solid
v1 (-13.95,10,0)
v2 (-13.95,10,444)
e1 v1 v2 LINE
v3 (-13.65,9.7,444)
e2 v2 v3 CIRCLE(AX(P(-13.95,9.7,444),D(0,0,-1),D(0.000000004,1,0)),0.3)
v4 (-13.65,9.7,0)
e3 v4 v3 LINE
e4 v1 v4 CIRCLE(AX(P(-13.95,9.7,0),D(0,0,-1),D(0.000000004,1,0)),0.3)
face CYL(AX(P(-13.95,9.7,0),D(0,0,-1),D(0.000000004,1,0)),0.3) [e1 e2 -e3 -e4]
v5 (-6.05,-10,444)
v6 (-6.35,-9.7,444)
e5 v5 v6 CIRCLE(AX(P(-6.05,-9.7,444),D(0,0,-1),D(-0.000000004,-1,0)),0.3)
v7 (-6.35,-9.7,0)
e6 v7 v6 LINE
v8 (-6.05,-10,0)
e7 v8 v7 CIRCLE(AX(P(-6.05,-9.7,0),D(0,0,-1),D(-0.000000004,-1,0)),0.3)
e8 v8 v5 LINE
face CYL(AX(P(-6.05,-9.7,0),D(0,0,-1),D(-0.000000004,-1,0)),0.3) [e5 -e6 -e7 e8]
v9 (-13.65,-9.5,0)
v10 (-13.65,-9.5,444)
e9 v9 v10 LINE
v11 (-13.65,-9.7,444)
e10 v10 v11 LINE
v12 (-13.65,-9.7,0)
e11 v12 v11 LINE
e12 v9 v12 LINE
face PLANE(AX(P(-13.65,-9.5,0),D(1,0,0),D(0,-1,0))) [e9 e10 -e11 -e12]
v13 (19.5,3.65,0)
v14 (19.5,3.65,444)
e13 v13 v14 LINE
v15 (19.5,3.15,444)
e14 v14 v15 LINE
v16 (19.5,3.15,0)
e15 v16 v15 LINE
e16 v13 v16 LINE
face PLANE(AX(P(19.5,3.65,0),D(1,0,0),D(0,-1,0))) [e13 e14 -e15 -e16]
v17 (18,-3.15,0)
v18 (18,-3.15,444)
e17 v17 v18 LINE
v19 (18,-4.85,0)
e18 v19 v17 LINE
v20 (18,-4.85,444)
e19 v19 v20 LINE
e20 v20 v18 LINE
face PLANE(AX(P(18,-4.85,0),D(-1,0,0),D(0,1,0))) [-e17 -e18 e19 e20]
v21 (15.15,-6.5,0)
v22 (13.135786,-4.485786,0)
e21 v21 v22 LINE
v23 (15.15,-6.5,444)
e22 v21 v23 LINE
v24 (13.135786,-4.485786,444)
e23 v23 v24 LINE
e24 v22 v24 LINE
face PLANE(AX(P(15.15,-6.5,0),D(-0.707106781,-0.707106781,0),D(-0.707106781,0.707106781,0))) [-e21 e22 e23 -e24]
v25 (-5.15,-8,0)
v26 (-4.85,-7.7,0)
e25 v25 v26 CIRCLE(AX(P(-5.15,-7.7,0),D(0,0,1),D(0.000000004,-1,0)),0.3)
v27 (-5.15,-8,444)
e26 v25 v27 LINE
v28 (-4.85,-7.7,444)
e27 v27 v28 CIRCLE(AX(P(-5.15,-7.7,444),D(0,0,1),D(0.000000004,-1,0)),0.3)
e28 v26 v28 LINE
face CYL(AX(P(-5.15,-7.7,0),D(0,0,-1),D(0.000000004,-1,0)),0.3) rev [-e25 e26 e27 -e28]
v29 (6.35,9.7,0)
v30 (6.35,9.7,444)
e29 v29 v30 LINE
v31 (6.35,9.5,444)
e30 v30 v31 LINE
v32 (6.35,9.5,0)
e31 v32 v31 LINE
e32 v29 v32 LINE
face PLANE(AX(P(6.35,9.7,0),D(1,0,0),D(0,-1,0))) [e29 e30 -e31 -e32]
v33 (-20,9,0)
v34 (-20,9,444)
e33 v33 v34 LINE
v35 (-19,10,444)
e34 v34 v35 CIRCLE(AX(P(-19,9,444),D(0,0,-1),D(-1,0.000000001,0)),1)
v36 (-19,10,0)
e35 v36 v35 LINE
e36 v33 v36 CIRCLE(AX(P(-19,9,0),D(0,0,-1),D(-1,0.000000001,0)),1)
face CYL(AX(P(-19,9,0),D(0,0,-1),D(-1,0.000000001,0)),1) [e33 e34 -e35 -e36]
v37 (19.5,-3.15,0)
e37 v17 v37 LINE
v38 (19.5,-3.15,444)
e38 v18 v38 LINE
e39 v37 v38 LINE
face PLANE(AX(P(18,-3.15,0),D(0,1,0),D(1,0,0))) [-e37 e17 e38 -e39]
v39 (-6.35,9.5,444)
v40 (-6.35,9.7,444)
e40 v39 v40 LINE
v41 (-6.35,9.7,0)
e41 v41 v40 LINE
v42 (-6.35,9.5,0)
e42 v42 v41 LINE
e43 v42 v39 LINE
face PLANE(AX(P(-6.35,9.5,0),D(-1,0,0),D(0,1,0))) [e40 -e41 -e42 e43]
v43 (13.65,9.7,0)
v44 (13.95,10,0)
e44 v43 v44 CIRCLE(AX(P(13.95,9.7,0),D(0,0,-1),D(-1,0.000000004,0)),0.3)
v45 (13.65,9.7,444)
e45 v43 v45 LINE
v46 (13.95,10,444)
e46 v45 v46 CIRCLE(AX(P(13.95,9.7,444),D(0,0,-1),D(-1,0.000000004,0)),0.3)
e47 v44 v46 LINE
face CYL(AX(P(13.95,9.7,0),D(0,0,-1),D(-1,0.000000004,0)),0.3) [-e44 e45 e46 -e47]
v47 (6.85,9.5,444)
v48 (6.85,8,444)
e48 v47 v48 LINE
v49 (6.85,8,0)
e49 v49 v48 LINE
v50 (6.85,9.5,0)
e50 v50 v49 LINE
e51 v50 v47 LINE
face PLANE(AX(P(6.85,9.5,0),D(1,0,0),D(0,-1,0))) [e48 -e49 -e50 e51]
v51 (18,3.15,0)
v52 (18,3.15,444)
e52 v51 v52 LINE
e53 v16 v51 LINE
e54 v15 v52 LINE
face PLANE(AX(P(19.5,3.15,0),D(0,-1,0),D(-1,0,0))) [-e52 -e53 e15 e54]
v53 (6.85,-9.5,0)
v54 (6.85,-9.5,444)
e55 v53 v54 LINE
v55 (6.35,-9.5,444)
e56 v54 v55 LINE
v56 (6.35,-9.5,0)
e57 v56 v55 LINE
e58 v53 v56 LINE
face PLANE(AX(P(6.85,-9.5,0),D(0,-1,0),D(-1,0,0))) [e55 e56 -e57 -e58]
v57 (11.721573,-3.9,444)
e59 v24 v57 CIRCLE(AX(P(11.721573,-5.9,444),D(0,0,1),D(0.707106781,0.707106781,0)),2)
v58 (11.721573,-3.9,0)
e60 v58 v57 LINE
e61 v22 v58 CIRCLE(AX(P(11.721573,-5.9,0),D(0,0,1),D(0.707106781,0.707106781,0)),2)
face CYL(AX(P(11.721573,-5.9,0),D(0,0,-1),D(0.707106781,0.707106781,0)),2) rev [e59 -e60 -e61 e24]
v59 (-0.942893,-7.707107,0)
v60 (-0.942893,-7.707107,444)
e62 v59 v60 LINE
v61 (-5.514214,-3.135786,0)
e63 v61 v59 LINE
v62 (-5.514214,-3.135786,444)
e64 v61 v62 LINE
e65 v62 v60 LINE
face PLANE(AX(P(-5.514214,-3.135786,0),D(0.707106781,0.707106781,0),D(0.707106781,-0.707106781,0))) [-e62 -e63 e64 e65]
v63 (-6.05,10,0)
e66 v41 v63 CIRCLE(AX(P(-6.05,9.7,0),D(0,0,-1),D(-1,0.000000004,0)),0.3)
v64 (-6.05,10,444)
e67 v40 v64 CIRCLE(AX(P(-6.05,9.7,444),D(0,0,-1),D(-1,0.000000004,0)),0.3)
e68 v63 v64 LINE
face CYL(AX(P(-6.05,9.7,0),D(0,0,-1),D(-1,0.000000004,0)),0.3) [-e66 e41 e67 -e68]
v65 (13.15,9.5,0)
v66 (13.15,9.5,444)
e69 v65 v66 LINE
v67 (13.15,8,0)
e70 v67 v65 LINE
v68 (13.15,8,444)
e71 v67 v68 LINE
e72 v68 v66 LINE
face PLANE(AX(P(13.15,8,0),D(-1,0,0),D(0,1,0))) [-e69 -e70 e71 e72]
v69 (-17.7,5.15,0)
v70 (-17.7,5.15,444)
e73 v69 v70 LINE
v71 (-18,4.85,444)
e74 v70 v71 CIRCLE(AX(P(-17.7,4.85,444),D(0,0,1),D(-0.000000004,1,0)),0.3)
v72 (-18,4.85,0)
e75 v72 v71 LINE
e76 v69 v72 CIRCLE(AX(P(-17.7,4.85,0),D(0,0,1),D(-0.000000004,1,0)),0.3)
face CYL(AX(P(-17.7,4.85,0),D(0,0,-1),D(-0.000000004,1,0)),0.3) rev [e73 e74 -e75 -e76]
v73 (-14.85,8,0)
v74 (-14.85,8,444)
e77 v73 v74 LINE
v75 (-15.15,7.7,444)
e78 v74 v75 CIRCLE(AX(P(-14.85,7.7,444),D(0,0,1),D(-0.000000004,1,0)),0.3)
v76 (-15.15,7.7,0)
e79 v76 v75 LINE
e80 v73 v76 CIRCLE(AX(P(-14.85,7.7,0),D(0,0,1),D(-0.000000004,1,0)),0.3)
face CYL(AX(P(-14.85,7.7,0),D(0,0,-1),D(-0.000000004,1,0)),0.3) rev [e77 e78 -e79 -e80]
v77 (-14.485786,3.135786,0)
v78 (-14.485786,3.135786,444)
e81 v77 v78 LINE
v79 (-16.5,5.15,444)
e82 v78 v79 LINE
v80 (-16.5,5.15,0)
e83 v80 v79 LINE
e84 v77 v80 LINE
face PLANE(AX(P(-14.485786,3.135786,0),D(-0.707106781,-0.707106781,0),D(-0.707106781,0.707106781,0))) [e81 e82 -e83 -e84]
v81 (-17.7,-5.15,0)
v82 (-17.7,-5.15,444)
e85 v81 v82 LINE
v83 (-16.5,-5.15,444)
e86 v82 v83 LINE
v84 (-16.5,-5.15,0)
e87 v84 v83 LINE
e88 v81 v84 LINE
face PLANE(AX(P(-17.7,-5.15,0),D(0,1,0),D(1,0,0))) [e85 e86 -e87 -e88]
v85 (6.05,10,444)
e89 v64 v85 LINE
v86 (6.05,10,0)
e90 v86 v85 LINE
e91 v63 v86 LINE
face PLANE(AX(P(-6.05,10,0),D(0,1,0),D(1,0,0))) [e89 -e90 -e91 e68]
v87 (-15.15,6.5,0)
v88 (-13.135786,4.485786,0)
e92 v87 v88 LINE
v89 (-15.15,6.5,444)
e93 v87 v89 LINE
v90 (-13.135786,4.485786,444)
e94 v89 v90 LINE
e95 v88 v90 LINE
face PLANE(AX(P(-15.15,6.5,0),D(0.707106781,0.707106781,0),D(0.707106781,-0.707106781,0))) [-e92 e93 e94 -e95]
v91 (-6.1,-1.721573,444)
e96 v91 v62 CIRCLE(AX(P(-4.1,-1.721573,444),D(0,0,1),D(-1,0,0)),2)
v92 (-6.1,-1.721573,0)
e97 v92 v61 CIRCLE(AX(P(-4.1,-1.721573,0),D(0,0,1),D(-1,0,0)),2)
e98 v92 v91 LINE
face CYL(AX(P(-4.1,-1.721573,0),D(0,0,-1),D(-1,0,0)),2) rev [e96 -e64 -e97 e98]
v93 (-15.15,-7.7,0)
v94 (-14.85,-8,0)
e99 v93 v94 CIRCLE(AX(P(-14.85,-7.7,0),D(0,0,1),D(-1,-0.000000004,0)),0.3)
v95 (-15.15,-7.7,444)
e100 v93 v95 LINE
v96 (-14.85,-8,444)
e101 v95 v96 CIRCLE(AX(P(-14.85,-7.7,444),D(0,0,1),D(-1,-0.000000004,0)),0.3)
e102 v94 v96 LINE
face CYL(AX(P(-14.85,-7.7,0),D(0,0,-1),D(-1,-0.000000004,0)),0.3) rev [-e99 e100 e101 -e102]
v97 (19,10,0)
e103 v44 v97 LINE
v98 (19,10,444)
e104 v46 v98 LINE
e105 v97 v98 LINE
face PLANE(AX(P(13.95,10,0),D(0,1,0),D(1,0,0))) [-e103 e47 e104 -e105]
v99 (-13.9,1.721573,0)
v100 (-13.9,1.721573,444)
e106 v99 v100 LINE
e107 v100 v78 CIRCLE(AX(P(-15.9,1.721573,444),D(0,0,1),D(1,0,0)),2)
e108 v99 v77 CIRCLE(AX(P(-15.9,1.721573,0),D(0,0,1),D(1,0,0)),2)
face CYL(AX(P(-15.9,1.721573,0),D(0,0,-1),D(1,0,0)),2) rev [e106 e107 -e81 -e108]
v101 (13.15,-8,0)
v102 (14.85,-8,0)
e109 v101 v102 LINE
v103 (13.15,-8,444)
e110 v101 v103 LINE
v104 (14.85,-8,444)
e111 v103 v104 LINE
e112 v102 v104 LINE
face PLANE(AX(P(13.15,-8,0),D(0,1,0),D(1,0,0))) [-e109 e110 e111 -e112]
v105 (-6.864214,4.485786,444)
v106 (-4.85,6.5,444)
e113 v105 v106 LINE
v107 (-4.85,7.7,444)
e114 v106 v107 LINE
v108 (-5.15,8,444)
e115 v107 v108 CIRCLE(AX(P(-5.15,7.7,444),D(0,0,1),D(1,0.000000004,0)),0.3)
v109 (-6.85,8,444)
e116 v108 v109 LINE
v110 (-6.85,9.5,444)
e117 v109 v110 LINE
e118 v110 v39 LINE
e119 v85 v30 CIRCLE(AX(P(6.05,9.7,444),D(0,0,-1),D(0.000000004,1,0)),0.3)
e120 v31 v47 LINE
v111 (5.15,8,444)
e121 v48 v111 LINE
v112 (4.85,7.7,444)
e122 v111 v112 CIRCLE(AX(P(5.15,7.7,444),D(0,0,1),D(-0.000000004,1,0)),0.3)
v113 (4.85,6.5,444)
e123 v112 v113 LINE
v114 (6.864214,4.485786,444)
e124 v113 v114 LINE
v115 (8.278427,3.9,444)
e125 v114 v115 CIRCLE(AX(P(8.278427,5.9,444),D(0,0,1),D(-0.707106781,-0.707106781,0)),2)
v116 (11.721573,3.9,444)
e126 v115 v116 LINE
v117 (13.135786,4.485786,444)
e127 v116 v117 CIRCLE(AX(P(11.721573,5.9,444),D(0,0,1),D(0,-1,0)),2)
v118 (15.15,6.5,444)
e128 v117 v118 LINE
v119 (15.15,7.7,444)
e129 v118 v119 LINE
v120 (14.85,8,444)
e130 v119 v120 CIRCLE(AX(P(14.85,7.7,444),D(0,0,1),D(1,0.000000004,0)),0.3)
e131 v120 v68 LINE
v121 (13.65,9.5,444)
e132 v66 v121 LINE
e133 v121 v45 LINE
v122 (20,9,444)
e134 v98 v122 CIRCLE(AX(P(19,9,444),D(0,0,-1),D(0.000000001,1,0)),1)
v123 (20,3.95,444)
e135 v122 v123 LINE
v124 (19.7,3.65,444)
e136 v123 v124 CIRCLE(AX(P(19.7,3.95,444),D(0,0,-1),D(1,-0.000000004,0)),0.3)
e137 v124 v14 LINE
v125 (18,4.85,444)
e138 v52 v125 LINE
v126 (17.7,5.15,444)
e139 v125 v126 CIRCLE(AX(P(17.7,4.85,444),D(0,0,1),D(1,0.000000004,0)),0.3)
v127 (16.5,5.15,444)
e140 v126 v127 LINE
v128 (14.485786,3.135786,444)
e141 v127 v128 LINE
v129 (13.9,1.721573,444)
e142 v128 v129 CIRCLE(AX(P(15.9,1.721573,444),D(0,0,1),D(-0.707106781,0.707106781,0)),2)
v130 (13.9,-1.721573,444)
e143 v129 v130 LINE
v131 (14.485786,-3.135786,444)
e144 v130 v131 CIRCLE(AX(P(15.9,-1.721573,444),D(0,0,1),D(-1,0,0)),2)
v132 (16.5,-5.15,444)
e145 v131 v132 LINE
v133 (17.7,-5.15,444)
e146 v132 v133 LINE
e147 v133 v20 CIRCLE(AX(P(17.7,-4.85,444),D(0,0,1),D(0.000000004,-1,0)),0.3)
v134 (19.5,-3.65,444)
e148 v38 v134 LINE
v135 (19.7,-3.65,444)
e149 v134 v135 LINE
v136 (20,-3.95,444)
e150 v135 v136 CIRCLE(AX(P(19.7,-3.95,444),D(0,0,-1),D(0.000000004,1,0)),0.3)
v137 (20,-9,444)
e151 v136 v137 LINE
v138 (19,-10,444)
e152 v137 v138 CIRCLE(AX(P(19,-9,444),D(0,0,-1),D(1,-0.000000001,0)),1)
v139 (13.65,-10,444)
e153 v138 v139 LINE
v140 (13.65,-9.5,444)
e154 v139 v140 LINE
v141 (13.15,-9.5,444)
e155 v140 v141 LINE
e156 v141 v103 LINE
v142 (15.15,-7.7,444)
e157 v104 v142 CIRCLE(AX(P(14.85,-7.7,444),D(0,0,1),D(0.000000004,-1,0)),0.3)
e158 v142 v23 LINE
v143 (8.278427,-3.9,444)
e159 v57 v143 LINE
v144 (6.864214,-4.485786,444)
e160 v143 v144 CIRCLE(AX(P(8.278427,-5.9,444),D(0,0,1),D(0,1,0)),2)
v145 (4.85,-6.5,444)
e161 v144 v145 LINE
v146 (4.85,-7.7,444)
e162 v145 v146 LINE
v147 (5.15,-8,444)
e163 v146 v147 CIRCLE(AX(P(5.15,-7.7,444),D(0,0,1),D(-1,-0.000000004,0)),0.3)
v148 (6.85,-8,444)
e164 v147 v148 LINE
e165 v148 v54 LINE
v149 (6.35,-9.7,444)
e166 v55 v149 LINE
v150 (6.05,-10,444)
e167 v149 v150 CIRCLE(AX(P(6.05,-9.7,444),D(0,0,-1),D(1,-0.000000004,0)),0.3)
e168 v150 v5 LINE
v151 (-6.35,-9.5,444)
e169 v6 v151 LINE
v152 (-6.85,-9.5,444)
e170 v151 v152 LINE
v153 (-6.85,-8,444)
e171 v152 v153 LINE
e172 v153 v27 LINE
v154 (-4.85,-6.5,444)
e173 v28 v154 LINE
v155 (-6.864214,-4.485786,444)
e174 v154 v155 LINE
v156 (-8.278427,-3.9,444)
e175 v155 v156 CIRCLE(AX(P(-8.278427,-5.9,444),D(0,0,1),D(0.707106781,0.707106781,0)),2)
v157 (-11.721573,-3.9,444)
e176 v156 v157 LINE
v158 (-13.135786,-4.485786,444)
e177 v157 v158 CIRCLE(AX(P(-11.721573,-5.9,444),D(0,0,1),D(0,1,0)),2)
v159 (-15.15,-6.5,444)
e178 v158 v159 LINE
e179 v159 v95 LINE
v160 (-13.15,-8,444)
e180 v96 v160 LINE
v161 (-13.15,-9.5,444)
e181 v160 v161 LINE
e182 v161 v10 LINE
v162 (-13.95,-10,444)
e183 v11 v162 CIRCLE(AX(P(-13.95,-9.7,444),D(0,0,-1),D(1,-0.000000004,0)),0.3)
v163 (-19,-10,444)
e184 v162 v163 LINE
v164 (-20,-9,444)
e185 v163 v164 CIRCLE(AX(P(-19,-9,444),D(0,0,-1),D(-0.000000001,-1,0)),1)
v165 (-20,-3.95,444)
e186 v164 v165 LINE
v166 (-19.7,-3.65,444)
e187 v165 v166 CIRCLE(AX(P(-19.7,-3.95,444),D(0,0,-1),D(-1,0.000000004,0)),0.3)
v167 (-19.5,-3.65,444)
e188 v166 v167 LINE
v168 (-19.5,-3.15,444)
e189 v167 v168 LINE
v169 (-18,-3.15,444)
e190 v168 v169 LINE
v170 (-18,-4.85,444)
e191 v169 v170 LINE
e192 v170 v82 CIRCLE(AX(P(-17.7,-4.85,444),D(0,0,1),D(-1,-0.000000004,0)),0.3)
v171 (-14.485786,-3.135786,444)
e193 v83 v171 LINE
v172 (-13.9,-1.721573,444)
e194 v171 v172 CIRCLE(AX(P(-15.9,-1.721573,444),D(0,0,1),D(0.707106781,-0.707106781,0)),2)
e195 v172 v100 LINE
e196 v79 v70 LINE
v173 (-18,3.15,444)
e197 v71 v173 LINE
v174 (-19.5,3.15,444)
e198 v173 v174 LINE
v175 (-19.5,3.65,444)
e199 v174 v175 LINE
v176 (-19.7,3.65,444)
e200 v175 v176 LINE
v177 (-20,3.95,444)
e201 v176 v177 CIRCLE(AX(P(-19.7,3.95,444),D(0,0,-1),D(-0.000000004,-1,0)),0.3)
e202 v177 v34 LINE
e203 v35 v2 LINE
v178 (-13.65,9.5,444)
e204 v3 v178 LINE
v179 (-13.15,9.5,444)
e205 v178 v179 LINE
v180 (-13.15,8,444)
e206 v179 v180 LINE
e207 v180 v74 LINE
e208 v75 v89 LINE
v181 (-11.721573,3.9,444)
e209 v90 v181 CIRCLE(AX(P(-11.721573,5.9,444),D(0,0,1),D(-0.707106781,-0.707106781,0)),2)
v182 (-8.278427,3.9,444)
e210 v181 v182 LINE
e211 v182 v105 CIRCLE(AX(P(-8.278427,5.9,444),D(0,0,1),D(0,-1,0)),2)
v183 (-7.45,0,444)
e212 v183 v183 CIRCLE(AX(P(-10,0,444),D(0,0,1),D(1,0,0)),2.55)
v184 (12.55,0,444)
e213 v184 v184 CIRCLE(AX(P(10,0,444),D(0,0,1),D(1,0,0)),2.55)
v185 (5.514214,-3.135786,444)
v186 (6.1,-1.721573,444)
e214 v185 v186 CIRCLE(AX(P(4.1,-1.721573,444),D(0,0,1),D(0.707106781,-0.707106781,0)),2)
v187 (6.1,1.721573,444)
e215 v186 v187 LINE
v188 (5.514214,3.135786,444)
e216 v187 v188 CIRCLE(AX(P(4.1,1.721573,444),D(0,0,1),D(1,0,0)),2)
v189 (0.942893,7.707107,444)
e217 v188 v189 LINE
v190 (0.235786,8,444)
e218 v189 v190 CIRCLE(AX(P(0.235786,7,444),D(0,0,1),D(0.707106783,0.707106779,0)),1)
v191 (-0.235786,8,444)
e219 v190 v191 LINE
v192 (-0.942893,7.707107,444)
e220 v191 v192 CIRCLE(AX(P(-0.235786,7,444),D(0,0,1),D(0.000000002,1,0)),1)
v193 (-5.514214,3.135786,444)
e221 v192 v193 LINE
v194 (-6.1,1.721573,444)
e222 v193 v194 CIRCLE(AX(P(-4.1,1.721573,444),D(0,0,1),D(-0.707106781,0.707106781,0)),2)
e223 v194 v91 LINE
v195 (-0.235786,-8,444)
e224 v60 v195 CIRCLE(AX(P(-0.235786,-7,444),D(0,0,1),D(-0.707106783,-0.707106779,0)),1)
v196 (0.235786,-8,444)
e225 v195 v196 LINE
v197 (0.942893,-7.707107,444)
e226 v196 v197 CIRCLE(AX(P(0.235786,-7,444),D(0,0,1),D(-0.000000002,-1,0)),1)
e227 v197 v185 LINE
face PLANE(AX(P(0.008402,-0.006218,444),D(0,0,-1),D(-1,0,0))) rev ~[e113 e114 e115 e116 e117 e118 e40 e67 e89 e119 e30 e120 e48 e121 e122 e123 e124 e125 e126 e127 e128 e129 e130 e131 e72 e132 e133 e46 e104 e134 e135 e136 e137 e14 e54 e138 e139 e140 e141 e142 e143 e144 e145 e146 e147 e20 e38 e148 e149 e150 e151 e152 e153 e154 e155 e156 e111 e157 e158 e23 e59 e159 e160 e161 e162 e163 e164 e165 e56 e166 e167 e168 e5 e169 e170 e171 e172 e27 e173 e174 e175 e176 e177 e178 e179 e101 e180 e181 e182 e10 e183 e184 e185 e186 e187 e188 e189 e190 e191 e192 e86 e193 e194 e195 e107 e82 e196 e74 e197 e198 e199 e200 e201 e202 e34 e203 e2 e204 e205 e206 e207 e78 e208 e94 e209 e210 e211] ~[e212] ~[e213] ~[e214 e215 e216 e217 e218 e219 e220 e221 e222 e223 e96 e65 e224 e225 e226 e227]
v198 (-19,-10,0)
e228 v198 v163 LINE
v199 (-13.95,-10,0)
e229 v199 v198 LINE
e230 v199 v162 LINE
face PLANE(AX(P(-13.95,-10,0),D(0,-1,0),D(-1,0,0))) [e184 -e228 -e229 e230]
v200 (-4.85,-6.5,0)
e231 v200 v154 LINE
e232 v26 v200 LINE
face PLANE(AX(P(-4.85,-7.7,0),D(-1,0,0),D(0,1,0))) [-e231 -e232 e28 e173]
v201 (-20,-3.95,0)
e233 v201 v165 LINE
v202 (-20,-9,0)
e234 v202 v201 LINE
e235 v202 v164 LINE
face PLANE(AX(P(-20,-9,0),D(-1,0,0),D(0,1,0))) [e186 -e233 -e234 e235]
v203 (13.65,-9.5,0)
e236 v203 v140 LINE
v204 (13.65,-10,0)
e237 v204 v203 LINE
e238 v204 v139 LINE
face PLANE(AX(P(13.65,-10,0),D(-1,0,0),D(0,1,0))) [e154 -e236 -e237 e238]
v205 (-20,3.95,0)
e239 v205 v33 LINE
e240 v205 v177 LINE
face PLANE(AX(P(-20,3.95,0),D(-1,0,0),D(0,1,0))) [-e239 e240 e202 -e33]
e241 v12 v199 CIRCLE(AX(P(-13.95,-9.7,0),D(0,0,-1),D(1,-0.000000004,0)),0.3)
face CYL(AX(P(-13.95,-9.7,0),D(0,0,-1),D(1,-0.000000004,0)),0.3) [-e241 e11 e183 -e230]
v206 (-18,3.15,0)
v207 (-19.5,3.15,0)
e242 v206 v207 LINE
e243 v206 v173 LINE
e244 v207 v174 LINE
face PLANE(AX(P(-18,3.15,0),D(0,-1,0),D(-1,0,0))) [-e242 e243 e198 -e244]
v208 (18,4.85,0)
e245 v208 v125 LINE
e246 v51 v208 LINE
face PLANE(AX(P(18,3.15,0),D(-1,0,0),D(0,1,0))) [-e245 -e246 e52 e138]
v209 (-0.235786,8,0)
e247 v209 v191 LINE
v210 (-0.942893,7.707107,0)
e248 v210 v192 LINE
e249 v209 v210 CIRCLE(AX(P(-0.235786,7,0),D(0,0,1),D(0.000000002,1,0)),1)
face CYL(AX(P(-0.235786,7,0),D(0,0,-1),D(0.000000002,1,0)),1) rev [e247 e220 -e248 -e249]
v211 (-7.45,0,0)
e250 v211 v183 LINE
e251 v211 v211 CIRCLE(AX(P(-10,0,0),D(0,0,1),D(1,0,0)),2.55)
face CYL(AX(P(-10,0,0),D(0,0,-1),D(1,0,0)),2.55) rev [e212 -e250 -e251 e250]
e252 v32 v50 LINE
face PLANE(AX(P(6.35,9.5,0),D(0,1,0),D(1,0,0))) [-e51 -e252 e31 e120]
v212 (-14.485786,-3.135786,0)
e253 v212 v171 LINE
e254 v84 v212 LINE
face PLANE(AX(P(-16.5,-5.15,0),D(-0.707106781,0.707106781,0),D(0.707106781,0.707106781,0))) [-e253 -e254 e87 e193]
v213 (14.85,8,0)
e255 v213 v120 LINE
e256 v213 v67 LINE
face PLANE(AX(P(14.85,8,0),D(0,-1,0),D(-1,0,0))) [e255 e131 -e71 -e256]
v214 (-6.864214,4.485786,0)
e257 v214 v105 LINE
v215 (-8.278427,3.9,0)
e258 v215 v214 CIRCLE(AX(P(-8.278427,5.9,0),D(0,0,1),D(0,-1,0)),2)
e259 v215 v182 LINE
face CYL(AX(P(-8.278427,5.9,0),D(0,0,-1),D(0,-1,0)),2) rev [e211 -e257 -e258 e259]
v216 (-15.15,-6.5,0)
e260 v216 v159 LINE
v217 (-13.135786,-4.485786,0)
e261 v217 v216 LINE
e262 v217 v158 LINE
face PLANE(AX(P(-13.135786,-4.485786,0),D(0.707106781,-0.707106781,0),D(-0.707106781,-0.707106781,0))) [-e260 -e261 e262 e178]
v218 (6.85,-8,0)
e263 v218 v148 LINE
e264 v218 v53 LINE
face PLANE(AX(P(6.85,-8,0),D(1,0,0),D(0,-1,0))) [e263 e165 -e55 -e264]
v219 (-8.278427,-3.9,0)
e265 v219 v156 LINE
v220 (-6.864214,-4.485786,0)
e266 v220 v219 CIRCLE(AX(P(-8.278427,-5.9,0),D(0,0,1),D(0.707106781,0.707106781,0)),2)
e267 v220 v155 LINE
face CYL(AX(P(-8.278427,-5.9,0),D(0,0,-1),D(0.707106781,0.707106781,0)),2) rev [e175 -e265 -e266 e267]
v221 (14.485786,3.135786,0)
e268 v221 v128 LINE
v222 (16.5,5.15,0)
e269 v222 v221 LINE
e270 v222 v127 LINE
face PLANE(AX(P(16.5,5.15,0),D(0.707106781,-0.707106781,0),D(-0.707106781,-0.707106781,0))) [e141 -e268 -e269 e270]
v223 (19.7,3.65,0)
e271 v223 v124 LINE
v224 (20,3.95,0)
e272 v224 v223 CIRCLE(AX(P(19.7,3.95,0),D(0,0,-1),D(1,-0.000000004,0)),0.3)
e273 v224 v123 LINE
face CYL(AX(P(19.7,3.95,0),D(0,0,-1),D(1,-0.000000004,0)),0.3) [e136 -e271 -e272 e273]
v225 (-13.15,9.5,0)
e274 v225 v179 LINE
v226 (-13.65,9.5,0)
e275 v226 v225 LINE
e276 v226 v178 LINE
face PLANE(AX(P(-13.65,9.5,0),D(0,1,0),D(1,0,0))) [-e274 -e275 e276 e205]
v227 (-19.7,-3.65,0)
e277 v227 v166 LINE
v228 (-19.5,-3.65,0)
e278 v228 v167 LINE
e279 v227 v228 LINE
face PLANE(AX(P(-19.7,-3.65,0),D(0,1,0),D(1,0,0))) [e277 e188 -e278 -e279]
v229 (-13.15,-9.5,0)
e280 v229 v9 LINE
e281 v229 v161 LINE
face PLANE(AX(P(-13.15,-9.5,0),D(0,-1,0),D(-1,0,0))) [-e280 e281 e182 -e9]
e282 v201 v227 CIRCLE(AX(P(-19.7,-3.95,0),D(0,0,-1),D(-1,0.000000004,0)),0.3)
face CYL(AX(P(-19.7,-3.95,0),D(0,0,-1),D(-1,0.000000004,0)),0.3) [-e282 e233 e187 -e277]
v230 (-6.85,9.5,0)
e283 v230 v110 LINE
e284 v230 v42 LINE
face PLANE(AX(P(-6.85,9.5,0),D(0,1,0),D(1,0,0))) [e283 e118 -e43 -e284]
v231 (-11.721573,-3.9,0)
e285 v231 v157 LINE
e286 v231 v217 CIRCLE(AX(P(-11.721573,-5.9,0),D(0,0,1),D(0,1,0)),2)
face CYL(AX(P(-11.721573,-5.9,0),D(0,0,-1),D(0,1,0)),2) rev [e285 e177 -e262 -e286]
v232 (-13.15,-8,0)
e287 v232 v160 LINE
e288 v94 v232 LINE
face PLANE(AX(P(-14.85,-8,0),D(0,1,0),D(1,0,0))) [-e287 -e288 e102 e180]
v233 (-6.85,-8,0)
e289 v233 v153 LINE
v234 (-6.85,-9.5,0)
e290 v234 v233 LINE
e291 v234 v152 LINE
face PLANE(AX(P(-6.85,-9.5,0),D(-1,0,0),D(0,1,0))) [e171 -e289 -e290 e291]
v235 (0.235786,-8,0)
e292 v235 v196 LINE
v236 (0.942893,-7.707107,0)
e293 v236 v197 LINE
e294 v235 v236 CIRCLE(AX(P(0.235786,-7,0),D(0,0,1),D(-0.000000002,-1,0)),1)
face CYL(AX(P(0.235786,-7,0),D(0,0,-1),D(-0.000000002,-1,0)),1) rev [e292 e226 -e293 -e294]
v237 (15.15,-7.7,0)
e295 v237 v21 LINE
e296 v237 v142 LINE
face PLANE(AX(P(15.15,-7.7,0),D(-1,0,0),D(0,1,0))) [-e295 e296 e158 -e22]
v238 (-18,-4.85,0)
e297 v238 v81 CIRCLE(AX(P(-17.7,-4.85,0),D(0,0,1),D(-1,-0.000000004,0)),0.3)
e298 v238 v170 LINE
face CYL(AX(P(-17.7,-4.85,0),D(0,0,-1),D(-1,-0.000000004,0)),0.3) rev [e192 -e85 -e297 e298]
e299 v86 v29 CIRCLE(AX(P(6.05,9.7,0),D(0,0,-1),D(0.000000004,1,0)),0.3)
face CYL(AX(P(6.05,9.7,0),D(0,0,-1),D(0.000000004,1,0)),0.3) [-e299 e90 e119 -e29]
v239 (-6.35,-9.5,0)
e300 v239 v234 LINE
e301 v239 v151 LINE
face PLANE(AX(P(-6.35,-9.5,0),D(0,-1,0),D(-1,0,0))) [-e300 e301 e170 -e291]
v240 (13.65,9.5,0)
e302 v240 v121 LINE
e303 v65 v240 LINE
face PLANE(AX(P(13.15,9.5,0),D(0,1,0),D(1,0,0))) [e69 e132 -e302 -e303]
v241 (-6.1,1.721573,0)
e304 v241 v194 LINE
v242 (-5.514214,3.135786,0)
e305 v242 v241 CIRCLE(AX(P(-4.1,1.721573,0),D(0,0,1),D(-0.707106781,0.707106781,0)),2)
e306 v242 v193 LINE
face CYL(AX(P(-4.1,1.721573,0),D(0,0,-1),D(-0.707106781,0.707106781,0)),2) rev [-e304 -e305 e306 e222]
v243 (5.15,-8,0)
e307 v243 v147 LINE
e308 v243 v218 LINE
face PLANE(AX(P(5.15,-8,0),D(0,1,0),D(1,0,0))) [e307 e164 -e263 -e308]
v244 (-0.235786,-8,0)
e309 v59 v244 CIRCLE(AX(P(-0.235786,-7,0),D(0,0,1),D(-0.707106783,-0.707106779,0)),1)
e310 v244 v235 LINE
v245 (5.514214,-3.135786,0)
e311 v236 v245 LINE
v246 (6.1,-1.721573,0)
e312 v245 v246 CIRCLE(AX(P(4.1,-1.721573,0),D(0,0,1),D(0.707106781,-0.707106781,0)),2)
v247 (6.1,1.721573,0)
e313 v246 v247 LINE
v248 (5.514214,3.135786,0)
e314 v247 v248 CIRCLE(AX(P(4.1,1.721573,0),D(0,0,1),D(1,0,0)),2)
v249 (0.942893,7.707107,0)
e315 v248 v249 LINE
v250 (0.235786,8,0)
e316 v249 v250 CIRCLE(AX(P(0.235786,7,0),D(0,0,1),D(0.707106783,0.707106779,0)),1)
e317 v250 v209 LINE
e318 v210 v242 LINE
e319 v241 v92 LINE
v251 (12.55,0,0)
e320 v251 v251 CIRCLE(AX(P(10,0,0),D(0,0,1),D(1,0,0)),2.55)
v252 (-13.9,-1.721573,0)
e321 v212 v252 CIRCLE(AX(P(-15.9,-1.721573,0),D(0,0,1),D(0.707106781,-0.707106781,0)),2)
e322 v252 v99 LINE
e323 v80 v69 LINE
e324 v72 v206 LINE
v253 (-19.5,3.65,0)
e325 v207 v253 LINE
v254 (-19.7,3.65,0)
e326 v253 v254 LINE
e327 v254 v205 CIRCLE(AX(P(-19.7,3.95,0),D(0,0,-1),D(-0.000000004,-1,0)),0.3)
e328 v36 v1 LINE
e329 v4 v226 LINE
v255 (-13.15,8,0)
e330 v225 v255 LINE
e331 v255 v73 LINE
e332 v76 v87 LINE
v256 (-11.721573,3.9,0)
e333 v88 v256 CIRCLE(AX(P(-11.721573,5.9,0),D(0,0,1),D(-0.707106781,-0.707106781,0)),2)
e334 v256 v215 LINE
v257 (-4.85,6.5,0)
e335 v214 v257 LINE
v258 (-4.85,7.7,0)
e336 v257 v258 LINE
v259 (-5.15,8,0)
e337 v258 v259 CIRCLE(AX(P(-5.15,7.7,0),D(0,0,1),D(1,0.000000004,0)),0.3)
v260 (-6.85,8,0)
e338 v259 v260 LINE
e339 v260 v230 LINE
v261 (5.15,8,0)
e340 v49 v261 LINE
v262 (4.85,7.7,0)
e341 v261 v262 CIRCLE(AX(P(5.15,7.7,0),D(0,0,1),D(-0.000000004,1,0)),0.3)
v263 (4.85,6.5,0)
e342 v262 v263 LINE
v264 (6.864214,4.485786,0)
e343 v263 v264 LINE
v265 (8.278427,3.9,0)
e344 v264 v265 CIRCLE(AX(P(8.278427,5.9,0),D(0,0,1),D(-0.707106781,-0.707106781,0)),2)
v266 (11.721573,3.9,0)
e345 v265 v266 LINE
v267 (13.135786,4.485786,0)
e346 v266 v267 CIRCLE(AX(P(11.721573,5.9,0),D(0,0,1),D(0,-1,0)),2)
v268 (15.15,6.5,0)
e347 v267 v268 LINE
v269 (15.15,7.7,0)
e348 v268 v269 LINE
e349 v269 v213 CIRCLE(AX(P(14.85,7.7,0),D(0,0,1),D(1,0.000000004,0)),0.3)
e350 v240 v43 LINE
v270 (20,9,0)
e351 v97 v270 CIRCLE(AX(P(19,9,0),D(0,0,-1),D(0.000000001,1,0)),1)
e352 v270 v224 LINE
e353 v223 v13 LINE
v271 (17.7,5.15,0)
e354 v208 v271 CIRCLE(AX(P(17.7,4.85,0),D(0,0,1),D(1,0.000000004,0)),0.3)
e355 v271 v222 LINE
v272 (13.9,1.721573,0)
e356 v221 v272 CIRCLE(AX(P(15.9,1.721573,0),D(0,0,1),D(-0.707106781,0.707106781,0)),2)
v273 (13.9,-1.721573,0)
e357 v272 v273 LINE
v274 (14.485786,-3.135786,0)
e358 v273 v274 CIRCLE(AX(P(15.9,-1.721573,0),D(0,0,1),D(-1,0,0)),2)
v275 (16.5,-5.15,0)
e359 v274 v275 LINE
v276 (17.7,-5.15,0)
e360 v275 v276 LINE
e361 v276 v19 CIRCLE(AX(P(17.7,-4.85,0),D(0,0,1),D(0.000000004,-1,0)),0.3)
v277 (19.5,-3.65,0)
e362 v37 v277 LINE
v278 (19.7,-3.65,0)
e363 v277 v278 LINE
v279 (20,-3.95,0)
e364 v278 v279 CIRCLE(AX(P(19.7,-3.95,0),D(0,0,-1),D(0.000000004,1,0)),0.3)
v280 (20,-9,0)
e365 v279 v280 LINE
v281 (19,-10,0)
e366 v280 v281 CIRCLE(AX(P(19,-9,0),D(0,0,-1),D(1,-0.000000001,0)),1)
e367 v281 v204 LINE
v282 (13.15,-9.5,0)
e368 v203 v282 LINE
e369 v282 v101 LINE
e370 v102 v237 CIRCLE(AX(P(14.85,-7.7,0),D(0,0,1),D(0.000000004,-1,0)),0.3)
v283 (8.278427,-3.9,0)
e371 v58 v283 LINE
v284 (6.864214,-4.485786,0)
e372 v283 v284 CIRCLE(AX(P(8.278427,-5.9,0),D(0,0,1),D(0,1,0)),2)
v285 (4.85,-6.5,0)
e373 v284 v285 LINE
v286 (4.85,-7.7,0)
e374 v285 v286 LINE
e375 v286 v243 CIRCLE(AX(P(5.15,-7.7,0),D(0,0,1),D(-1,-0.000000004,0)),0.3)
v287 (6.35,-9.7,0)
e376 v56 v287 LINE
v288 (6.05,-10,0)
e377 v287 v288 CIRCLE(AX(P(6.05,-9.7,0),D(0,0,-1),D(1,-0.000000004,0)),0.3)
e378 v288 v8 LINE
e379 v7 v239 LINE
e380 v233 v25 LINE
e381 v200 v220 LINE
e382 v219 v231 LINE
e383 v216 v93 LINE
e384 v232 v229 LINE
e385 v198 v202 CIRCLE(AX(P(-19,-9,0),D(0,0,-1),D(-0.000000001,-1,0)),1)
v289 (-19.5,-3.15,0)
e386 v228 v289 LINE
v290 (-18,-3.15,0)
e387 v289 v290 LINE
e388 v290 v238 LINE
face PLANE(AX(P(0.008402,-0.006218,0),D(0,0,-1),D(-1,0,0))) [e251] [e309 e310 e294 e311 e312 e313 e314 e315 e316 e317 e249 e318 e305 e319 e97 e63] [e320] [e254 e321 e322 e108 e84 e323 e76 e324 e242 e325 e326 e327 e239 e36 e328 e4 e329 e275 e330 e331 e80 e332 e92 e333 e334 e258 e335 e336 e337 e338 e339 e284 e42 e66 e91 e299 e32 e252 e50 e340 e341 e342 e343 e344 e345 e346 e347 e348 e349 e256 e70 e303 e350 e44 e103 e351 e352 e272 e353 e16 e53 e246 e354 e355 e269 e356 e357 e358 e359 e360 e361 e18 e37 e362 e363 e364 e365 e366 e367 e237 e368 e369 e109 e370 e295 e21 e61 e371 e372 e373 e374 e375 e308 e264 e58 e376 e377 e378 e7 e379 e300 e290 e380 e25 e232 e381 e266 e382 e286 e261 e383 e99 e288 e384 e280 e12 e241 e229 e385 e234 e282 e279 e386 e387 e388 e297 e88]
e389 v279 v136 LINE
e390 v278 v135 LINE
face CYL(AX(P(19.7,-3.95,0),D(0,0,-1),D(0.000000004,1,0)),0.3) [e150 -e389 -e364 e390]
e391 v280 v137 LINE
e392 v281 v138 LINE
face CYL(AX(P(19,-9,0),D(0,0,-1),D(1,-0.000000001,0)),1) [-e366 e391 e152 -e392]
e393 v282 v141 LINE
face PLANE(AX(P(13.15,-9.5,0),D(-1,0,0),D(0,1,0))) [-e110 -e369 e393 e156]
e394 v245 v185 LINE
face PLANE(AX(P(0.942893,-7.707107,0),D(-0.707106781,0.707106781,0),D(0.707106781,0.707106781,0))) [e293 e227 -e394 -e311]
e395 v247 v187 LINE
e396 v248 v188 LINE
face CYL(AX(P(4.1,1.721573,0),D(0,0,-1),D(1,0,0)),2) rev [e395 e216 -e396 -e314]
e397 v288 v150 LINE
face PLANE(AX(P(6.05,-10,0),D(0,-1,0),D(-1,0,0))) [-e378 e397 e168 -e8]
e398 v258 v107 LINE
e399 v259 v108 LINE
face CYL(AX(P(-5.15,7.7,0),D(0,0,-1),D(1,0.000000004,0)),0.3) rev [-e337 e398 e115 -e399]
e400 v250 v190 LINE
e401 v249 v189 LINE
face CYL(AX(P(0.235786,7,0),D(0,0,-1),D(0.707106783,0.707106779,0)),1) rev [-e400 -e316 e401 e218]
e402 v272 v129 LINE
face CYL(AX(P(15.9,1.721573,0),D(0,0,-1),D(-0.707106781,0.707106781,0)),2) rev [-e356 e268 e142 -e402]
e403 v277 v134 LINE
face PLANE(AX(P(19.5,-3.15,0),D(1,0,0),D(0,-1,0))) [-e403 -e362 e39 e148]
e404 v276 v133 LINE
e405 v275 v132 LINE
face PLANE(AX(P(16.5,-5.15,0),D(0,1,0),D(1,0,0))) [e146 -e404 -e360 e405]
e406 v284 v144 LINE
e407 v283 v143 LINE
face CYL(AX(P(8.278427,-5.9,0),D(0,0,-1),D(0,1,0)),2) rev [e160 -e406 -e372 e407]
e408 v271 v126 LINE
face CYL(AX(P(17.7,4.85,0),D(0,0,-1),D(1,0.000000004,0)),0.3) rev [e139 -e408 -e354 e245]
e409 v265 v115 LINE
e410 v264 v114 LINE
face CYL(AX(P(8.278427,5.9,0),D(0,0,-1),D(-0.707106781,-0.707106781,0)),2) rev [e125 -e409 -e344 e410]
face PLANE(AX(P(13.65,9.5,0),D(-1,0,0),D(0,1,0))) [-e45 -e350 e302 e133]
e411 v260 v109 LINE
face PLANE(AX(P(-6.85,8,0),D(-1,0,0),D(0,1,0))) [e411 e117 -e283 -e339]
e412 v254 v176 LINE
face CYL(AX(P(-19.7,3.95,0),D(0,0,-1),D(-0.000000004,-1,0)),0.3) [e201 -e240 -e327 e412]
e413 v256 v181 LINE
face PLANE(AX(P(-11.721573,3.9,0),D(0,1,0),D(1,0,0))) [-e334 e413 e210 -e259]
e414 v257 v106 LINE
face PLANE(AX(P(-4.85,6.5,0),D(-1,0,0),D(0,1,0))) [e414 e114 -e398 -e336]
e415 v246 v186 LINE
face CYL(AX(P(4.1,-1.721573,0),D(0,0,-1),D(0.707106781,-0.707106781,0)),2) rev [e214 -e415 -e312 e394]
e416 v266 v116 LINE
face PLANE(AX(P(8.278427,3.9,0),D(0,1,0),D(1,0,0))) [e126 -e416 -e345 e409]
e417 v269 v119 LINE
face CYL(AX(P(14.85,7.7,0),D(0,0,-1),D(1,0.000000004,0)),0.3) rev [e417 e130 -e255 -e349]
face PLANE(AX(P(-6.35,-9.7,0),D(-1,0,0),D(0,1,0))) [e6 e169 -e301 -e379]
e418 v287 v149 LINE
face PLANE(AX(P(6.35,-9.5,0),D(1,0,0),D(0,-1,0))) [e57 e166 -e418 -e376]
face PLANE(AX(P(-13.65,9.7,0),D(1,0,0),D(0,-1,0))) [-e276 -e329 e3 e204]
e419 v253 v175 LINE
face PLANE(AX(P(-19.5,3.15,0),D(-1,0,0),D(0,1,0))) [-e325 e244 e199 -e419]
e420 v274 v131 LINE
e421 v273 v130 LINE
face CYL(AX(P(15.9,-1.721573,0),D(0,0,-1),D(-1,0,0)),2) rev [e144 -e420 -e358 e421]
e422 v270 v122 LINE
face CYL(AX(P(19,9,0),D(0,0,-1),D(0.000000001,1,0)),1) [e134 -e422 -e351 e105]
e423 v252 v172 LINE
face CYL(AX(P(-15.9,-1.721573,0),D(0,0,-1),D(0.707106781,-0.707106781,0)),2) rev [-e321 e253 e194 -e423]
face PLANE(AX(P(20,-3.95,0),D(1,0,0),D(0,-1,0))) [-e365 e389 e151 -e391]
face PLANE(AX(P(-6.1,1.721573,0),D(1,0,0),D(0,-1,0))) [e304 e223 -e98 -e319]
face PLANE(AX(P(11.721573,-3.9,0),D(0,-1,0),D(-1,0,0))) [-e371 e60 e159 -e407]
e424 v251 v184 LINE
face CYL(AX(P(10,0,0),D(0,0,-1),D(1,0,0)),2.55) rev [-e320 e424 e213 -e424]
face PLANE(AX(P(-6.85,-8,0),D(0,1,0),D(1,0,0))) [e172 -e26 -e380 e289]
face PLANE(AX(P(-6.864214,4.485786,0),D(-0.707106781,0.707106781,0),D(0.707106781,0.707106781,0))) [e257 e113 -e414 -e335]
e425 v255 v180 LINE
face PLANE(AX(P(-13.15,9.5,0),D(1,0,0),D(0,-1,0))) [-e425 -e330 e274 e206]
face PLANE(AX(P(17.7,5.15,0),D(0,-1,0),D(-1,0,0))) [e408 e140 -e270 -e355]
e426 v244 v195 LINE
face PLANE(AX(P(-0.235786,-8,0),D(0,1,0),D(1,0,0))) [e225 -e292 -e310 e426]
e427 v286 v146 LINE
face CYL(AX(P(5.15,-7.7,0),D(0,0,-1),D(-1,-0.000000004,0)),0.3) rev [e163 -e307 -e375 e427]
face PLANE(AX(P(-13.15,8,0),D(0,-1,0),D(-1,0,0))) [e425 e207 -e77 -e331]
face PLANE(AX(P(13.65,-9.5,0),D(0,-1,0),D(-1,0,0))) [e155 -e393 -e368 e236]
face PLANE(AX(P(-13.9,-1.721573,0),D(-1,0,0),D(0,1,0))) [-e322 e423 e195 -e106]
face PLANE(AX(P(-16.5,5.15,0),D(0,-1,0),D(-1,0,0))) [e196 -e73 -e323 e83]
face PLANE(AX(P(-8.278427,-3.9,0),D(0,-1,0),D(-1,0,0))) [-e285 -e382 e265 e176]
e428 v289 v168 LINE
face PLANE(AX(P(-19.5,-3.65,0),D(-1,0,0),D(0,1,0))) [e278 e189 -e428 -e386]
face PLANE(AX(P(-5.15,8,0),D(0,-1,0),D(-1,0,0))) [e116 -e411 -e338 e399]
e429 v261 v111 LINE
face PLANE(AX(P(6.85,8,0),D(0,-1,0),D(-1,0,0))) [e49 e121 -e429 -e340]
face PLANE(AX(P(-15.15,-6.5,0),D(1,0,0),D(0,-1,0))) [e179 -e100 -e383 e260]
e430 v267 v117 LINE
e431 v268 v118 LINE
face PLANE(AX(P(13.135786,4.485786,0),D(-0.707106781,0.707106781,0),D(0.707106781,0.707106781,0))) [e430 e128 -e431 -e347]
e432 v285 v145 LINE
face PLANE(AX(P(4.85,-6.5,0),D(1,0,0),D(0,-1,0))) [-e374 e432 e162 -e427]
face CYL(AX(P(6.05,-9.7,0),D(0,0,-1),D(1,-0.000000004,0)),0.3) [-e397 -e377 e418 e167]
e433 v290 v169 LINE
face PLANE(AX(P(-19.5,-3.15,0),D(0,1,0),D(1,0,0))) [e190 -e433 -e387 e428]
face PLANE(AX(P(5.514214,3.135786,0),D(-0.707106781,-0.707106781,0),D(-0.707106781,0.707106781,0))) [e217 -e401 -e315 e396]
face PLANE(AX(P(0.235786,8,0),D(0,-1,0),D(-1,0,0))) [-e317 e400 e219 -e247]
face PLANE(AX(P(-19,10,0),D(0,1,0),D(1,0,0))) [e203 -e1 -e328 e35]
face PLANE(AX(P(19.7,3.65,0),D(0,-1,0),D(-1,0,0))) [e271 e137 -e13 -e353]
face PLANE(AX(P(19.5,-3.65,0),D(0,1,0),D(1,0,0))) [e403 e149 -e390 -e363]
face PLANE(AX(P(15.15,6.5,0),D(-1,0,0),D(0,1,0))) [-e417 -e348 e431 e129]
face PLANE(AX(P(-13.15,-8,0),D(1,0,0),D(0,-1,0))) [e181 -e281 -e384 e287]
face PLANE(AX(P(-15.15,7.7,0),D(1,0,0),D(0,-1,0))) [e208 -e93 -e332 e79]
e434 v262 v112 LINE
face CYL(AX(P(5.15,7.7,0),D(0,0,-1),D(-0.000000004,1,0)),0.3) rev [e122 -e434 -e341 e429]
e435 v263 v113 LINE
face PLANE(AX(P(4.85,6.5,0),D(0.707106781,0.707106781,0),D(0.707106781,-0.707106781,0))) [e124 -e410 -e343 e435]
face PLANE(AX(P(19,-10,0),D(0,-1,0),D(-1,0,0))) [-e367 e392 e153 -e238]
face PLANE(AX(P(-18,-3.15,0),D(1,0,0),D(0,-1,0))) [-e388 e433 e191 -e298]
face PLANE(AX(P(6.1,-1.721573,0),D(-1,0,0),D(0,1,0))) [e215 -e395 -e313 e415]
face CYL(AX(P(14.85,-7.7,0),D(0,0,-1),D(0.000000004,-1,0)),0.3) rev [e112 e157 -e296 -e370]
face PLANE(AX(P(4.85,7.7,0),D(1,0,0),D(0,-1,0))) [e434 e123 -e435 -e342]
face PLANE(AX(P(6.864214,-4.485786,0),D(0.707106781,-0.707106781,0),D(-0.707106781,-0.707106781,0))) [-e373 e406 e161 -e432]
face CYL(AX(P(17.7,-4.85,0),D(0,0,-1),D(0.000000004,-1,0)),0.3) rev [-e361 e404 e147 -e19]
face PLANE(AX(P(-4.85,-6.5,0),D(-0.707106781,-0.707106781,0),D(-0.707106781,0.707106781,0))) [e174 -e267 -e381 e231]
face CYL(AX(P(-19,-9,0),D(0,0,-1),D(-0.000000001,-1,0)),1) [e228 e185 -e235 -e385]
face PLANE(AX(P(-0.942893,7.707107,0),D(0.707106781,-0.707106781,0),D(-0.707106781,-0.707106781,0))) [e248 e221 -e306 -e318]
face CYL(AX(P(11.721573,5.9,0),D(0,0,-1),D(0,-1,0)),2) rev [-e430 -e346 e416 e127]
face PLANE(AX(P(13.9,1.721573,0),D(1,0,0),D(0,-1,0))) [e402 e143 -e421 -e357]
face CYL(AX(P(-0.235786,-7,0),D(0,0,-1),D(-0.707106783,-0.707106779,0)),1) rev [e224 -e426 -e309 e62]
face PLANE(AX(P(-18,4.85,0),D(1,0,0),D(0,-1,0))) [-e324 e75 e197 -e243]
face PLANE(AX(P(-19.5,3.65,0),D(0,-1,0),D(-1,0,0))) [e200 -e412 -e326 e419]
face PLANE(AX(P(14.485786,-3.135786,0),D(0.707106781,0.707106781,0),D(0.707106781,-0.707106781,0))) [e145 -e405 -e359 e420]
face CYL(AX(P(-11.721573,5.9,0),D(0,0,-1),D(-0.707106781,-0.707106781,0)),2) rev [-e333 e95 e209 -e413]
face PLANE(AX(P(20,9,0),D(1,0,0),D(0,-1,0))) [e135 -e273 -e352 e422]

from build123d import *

# Parameters (mm, degrees)
CROQUIS1_R              = 2.55
SALIENTE_EXTRUIR1_DEPTH = 444


with BuildPart() as part:
    # Croquis1 → Saliente-Extruir1 (new body)
    with BuildSketch(Plane.XY):
        with BuildLine():
            Line((-20, -9), (-20, -3.95))
            ThreePointArc((-20, -3.95), (-19.912132034, -3.737867966), (-19.7, -3.65))
            Line((-19.7, -3.65), (-19.5, -3.65))
            Line((-19.5, -3.65), (-19.5, -3.15))
            Line((-19.5, -3.15), (-18, -3.15))
            Line((-18, -3.15), (-18, -4.85))
            ThreePointArc((-18, -4.85), (-17.912132034, -5.062132034), (-17.7, -5.15))
            Line((-17.7, -5.15), (-16.5, -5.15))
            Line((-16.5, -5.15), (-14.485786438, -3.135786438))
            ThreePointArc((-14.485786438, -3.135786438), (-14.052240935, -2.48693974), (-13.9, -1.721572875))
            Line((-13.9, -1.721572875), (-13.9, 1.721572875))
            ThreePointArc((-13.9, 1.721572875), (-14.052240935, 2.48693974), (-14.485786438, 3.135786438))
            Line((-14.485786438, 3.135786438), (-16.5, 5.15))
            Line((-16.5, 5.15), (-17.7, 5.15))
            ThreePointArc((-17.7, 5.15), (-17.912132034, 5.062132034), (-18, 4.85))
            Line((-18, 4.85), (-18, 3.15))
            Line((-18, 3.15), (-19.5, 3.15))
            Line((-19.5, 3.15), (-19.5, 3.65))
            Line((-19.5, 3.65), (-19.7, 3.65))
            ThreePointArc((-19.7, 3.65), (-19.912132034, 3.737867966), (-20, 3.95))
            Line((-20, 3.95), (-20, 9))
            ThreePointArc((-20, 9), (-19.707106781, 9.707106781), (-19, 10))
            Line((-19, 10), (-13.95, 10))
            ThreePointArc((-13.95, 10), (-13.737867966, 9.912132034), (-13.65, 9.7))
            Line((-13.65, 9.7), (-13.65, 9.5))
            Line((-13.65, 9.5), (-13.15, 9.5))
            Line((-13.15, 9.5), (-13.15, 8))
            Line((-13.15, 8), (-14.85, 8))
            ThreePointArc((-14.85, 8), (-15.062132034, 7.912132034), (-15.15, 7.7))
            Line((-15.15, 7.7), (-15.15, 6.5))
            Line((-15.15, 6.5), (-13.135786438, 4.485786438))
            ThreePointArc((-13.135786438, 4.485786438), (-12.48693974, 4.052240935), (-11.721572875, 3.9))
            Line((-11.721572875, 3.9), (-8.278427125, 3.9))
            ThreePointArc((-8.278427125, 3.9), (-7.51306026, 4.052240935), (-6.864213562, 4.485786438))
            Line((-6.864213562, 4.485786438), (-4.85, 6.5))
            Line((-4.85, 6.5), (-4.85, 7.7))
            ThreePointArc((-4.85, 7.7), (-4.937867966, 7.912132034), (-5.15, 8))
            Line((-5.15, 8), (-6.85, 8))
            Line((-6.85, 8), (-6.85, 9.5))
            Line((-6.85, 9.5), (-6.35, 9.5))
            Line((-6.35, 9.5), (-6.35, 9.7))
            ThreePointArc((-6.35, 9.7), (-6.262132034, 9.912132034), (-6.05, 10))
            Line((-6.05, 10), (6.05, 10))
            ThreePointArc((6.05, 10), (6.262132034, 9.912132034), (6.35, 9.7))
            Line((6.35, 9.7), (6.35, 9.5))
            Line((6.35, 9.5), (6.85, 9.5))
            Line((6.85, 9.5), (6.85, 8))
            Line((6.85, 8), (5.15, 8))
            ThreePointArc((5.15, 8), (4.937867966, 7.912132034), (4.85, 7.7))
            Line((4.85, 7.7), (4.85, 6.5))
            Line((4.85, 6.5), (6.864213562, 4.485786438))
            ThreePointArc((6.864213562, 4.485786438), (7.51306026, 4.052240935), (8.278427125, 3.9))
            Line((8.278427125, 3.9), (11.721572875, 3.9))
            ThreePointArc((11.721572875, 3.9), (12.48693974, 4.052240935), (13.135786438, 4.485786438))
            Line((13.135786438, 4.485786438), (15.15, 6.5))
            Line((15.15, 6.5), (15.15, 7.7))
            ThreePointArc((15.15, 7.7), (15.062132034, 7.912132034), (14.85, 8))
            Line((14.85, 8), (13.15, 8))
            Line((13.15, 8), (13.15, 9.5))
            Line((13.15, 9.5), (13.65, 9.5))
            Line((13.65, 9.5), (13.65, 9.7))
            ThreePointArc((13.65, 9.7), (13.737867966, 9.912132034), (13.95, 10))
            Line((13.95, 10), (19, 10))
            ThreePointArc((19, 10), (19.707106781, 9.707106781), (20, 9))
            Line((20, 9), (20, 3.95))
            ThreePointArc((20, 3.95), (19.912132034, 3.737867966), (19.7, 3.65))
            Line((19.7, 3.65), (19.5, 3.65))
            Line((19.5, 3.65), (19.5, 3.15))
            Line((19.5, 3.15), (18, 3.15))
            Line((18, 3.15), (18, 4.85))
            ThreePointArc((18, 4.85), (17.912132034, 5.062132034), (17.7, 5.15))
            Line((17.7, 5.15), (16.5, 5.15))
            Line((16.5, 5.15), (14.485786438, 3.135786438))
            ThreePointArc((14.485786438, 3.135786438), (14.052240935, 2.48693974), (13.9, 1.721572875))
            Line((13.9, 1.721572875), (13.9, -1.721572875))
            ThreePointArc((13.9, -1.721572875), (14.052240935, -2.48693974), (14.485786438, -3.135786438))
            Line((14.485786438, -3.135786438), (16.5, -5.15))
            Line((16.5, -5.15), (17.7, -5.15))
            ThreePointArc((17.7, -5.15), (17.912132034, -5.062132034), (18, -4.85))
            Line((18, -4.85), (18, -3.15))
            Line((18, -3.15), (19.5, -3.15))
            Line((19.5, -3.15), (19.5, -3.65))
            Line((19.5, -3.65), (19.7, -3.65))
            ThreePointArc((19.7, -3.65), (19.912132034, -3.737867966), (20, -3.95))
            Line((20, -3.95), (20, -9))
            ThreePointArc((20, -9), (19.707106781, -9.707106781), (19, -10))
            Line((19, -10), (13.65, -10))
            Line((13.65, -10), (13.65, -9.5))
            Line((13.65, -9.5), (13.15, -9.5))
            Line((13.15, -9.5), (13.15, -8))
            Line((13.15, -8), (14.85, -8))
            ThreePointArc((14.85, -8), (15.062132034, -7.912132034), (15.15, -7.7))
            Line((15.15, -7.7), (15.15, -6.5))
            Line((15.15, -6.5), (13.135786438, -4.485786438))
            ThreePointArc((13.135786438, -4.485786438), (12.48693974, -4.052240935), (11.721572875, -3.9))
            Line((11.721572875, -3.9), (8.278427125, -3.9))
            ThreePointArc((8.278427125, -3.9), (7.51306026, -4.052240935), (6.864213562, -4.485786438))
            Line((6.864213562, -4.485786438), (4.85, -6.5))
            Line((4.85, -6.5), (4.85, -7.7))
            ThreePointArc((4.85, -7.7), (4.937867966, -7.912132034), (5.15, -8))
            Line((5.15, -8), (6.85, -8))
            Line((6.85, -8), (6.85, -9.5))
            Line((6.85, -9.5), (6.35, -9.5))
            Line((6.35, -9.5), (6.35, -9.7))
            ThreePointArc((6.35, -9.7), (6.262132034, -9.912132034), (6.05, -10))
            Line((6.05, -10), (0, -10))
            Line((0, -10), (-6.05, -10))
            ThreePointArc((-6.05, -10), (-6.262132034, -9.912132034), (-6.35, -9.7))
            Line((-6.35, -9.7), (-6.35, -9.5))
            Line((-6.35, -9.5), (-6.85, -9.5))
            Line((-6.85, -9.5), (-6.85, -8))
            Line((-6.85, -8), (-5.15, -8))
            ThreePointArc((-5.15, -8), (-4.937867966, -7.912132034), (-4.85, -7.7))
            Line((-4.85, -7.7), (-4.85, -6.5))
            Line((-4.85, -6.5), (-6.864213562, -4.485786438))
            ThreePointArc((-6.864213562, -4.485786438), (-7.51306026, -4.052240935), (-8.278427125, -3.9))
            Line((-8.278427125, -3.9), (-11.721572875, -3.9))
            ThreePointArc((-11.721572875, -3.9), (-12.48693974, -4.052240935), (-13.135786438, -4.485786438))
            Line((-13.135786438, -4.485786438), (-15.15, -6.5))
            Line((-15.15, -6.5), (-15.15, -7.7))
            ThreePointArc((-15.15, -7.7), (-15.062132034, -7.912132034), (-14.85, -8))
            Line((-14.85, -8), (-13.15, -8))
            Line((-13.15, -8), (-13.15, -9.5))
            Line((-13.15, -9.5), (-13.65, -9.5))
            Line((-13.65, -9.5), (-13.65, -9.7))
            ThreePointArc((-13.65, -9.7), (-13.737867966, -9.912132034), (-13.95, -10))
            Line((-13.95, -10), (-19, -10))
            ThreePointArc((-19, -10), (-19.707106781, -9.707106781), (-20, -9))
        make_face()
        with Locations((-10, 0)):
            Circle(CROQUIS1_R, mode=Mode.SUBTRACT)
        with Locations((10, 0)):
            Circle(CROQUIS1_R, mode=Mode.SUBTRACT)
        with BuildLine():
            Line((-6.1, 1.721572875), (-6.1, -1.721572875))
            ThreePointArc((-6.1, -1.721572875), (-5.947759065, -2.48693974), (-5.514213562, -3.135786438))
            Line((-5.514213562, -3.135786438), (-3.5, -5.15))
            Line((-3.5, -5.15), (-0.942893219, -7.707106781))
            ThreePointArc((-0.942893219, -7.707106781), (-0.61846987, -7.923879533), (-0.235786438, -8))
            Line((-0.235786438, -8), (0.235786438, -8))
            ThreePointArc((0.235786438, -8), (0.61846987, -7.923879533), (0.942893219, -7.707106781))
            Line((0.942893219, -7.707106781), (3.5, -5.15))
            Line((3.5, -5.15), (5.514213562, -3.135786438))
            ThreePointArc((5.514213562, -3.135786438), (5.947759065, -2.48693974), (6.1, -1.721572875))
            Line((6.1, -1.721572875), (6.1, 1.721572875))
            ThreePointArc((6.1, 1.721572875), (5.947759065, 2.48693974), (5.514213562, 3.135786438))
            Line((5.514213562, 3.135786438), (3.5, 5.15))
            Line((3.5, 5.15), (0.942893219, 7.707106781))
            ThreePointArc((0.942893219, 7.707106781), (0.61846987, 7.923879533), (0.235786438, 8))
            Line((0.235786438, 8), (-0.235786438, 8))
            ThreePointArc((-0.235786438, 8), (-0.61846987, 7.923879533), (-0.942893219, 7.707106781))
            Line((-0.942893219, 7.707106781), (-3.5, 5.15))
            Line((-3.5, 5.15), (-5.514213562, 3.135786438))
            ThreePointArc((-5.514213562, 3.135786438), (-5.947759065, 2.48693974), (-6.1, 1.721572875))
        make_face(mode=Mode.SUBTRACT)
    extrude(amount=SALIENTE_EXTRUIR1_DEPTH)


solid = part.part
